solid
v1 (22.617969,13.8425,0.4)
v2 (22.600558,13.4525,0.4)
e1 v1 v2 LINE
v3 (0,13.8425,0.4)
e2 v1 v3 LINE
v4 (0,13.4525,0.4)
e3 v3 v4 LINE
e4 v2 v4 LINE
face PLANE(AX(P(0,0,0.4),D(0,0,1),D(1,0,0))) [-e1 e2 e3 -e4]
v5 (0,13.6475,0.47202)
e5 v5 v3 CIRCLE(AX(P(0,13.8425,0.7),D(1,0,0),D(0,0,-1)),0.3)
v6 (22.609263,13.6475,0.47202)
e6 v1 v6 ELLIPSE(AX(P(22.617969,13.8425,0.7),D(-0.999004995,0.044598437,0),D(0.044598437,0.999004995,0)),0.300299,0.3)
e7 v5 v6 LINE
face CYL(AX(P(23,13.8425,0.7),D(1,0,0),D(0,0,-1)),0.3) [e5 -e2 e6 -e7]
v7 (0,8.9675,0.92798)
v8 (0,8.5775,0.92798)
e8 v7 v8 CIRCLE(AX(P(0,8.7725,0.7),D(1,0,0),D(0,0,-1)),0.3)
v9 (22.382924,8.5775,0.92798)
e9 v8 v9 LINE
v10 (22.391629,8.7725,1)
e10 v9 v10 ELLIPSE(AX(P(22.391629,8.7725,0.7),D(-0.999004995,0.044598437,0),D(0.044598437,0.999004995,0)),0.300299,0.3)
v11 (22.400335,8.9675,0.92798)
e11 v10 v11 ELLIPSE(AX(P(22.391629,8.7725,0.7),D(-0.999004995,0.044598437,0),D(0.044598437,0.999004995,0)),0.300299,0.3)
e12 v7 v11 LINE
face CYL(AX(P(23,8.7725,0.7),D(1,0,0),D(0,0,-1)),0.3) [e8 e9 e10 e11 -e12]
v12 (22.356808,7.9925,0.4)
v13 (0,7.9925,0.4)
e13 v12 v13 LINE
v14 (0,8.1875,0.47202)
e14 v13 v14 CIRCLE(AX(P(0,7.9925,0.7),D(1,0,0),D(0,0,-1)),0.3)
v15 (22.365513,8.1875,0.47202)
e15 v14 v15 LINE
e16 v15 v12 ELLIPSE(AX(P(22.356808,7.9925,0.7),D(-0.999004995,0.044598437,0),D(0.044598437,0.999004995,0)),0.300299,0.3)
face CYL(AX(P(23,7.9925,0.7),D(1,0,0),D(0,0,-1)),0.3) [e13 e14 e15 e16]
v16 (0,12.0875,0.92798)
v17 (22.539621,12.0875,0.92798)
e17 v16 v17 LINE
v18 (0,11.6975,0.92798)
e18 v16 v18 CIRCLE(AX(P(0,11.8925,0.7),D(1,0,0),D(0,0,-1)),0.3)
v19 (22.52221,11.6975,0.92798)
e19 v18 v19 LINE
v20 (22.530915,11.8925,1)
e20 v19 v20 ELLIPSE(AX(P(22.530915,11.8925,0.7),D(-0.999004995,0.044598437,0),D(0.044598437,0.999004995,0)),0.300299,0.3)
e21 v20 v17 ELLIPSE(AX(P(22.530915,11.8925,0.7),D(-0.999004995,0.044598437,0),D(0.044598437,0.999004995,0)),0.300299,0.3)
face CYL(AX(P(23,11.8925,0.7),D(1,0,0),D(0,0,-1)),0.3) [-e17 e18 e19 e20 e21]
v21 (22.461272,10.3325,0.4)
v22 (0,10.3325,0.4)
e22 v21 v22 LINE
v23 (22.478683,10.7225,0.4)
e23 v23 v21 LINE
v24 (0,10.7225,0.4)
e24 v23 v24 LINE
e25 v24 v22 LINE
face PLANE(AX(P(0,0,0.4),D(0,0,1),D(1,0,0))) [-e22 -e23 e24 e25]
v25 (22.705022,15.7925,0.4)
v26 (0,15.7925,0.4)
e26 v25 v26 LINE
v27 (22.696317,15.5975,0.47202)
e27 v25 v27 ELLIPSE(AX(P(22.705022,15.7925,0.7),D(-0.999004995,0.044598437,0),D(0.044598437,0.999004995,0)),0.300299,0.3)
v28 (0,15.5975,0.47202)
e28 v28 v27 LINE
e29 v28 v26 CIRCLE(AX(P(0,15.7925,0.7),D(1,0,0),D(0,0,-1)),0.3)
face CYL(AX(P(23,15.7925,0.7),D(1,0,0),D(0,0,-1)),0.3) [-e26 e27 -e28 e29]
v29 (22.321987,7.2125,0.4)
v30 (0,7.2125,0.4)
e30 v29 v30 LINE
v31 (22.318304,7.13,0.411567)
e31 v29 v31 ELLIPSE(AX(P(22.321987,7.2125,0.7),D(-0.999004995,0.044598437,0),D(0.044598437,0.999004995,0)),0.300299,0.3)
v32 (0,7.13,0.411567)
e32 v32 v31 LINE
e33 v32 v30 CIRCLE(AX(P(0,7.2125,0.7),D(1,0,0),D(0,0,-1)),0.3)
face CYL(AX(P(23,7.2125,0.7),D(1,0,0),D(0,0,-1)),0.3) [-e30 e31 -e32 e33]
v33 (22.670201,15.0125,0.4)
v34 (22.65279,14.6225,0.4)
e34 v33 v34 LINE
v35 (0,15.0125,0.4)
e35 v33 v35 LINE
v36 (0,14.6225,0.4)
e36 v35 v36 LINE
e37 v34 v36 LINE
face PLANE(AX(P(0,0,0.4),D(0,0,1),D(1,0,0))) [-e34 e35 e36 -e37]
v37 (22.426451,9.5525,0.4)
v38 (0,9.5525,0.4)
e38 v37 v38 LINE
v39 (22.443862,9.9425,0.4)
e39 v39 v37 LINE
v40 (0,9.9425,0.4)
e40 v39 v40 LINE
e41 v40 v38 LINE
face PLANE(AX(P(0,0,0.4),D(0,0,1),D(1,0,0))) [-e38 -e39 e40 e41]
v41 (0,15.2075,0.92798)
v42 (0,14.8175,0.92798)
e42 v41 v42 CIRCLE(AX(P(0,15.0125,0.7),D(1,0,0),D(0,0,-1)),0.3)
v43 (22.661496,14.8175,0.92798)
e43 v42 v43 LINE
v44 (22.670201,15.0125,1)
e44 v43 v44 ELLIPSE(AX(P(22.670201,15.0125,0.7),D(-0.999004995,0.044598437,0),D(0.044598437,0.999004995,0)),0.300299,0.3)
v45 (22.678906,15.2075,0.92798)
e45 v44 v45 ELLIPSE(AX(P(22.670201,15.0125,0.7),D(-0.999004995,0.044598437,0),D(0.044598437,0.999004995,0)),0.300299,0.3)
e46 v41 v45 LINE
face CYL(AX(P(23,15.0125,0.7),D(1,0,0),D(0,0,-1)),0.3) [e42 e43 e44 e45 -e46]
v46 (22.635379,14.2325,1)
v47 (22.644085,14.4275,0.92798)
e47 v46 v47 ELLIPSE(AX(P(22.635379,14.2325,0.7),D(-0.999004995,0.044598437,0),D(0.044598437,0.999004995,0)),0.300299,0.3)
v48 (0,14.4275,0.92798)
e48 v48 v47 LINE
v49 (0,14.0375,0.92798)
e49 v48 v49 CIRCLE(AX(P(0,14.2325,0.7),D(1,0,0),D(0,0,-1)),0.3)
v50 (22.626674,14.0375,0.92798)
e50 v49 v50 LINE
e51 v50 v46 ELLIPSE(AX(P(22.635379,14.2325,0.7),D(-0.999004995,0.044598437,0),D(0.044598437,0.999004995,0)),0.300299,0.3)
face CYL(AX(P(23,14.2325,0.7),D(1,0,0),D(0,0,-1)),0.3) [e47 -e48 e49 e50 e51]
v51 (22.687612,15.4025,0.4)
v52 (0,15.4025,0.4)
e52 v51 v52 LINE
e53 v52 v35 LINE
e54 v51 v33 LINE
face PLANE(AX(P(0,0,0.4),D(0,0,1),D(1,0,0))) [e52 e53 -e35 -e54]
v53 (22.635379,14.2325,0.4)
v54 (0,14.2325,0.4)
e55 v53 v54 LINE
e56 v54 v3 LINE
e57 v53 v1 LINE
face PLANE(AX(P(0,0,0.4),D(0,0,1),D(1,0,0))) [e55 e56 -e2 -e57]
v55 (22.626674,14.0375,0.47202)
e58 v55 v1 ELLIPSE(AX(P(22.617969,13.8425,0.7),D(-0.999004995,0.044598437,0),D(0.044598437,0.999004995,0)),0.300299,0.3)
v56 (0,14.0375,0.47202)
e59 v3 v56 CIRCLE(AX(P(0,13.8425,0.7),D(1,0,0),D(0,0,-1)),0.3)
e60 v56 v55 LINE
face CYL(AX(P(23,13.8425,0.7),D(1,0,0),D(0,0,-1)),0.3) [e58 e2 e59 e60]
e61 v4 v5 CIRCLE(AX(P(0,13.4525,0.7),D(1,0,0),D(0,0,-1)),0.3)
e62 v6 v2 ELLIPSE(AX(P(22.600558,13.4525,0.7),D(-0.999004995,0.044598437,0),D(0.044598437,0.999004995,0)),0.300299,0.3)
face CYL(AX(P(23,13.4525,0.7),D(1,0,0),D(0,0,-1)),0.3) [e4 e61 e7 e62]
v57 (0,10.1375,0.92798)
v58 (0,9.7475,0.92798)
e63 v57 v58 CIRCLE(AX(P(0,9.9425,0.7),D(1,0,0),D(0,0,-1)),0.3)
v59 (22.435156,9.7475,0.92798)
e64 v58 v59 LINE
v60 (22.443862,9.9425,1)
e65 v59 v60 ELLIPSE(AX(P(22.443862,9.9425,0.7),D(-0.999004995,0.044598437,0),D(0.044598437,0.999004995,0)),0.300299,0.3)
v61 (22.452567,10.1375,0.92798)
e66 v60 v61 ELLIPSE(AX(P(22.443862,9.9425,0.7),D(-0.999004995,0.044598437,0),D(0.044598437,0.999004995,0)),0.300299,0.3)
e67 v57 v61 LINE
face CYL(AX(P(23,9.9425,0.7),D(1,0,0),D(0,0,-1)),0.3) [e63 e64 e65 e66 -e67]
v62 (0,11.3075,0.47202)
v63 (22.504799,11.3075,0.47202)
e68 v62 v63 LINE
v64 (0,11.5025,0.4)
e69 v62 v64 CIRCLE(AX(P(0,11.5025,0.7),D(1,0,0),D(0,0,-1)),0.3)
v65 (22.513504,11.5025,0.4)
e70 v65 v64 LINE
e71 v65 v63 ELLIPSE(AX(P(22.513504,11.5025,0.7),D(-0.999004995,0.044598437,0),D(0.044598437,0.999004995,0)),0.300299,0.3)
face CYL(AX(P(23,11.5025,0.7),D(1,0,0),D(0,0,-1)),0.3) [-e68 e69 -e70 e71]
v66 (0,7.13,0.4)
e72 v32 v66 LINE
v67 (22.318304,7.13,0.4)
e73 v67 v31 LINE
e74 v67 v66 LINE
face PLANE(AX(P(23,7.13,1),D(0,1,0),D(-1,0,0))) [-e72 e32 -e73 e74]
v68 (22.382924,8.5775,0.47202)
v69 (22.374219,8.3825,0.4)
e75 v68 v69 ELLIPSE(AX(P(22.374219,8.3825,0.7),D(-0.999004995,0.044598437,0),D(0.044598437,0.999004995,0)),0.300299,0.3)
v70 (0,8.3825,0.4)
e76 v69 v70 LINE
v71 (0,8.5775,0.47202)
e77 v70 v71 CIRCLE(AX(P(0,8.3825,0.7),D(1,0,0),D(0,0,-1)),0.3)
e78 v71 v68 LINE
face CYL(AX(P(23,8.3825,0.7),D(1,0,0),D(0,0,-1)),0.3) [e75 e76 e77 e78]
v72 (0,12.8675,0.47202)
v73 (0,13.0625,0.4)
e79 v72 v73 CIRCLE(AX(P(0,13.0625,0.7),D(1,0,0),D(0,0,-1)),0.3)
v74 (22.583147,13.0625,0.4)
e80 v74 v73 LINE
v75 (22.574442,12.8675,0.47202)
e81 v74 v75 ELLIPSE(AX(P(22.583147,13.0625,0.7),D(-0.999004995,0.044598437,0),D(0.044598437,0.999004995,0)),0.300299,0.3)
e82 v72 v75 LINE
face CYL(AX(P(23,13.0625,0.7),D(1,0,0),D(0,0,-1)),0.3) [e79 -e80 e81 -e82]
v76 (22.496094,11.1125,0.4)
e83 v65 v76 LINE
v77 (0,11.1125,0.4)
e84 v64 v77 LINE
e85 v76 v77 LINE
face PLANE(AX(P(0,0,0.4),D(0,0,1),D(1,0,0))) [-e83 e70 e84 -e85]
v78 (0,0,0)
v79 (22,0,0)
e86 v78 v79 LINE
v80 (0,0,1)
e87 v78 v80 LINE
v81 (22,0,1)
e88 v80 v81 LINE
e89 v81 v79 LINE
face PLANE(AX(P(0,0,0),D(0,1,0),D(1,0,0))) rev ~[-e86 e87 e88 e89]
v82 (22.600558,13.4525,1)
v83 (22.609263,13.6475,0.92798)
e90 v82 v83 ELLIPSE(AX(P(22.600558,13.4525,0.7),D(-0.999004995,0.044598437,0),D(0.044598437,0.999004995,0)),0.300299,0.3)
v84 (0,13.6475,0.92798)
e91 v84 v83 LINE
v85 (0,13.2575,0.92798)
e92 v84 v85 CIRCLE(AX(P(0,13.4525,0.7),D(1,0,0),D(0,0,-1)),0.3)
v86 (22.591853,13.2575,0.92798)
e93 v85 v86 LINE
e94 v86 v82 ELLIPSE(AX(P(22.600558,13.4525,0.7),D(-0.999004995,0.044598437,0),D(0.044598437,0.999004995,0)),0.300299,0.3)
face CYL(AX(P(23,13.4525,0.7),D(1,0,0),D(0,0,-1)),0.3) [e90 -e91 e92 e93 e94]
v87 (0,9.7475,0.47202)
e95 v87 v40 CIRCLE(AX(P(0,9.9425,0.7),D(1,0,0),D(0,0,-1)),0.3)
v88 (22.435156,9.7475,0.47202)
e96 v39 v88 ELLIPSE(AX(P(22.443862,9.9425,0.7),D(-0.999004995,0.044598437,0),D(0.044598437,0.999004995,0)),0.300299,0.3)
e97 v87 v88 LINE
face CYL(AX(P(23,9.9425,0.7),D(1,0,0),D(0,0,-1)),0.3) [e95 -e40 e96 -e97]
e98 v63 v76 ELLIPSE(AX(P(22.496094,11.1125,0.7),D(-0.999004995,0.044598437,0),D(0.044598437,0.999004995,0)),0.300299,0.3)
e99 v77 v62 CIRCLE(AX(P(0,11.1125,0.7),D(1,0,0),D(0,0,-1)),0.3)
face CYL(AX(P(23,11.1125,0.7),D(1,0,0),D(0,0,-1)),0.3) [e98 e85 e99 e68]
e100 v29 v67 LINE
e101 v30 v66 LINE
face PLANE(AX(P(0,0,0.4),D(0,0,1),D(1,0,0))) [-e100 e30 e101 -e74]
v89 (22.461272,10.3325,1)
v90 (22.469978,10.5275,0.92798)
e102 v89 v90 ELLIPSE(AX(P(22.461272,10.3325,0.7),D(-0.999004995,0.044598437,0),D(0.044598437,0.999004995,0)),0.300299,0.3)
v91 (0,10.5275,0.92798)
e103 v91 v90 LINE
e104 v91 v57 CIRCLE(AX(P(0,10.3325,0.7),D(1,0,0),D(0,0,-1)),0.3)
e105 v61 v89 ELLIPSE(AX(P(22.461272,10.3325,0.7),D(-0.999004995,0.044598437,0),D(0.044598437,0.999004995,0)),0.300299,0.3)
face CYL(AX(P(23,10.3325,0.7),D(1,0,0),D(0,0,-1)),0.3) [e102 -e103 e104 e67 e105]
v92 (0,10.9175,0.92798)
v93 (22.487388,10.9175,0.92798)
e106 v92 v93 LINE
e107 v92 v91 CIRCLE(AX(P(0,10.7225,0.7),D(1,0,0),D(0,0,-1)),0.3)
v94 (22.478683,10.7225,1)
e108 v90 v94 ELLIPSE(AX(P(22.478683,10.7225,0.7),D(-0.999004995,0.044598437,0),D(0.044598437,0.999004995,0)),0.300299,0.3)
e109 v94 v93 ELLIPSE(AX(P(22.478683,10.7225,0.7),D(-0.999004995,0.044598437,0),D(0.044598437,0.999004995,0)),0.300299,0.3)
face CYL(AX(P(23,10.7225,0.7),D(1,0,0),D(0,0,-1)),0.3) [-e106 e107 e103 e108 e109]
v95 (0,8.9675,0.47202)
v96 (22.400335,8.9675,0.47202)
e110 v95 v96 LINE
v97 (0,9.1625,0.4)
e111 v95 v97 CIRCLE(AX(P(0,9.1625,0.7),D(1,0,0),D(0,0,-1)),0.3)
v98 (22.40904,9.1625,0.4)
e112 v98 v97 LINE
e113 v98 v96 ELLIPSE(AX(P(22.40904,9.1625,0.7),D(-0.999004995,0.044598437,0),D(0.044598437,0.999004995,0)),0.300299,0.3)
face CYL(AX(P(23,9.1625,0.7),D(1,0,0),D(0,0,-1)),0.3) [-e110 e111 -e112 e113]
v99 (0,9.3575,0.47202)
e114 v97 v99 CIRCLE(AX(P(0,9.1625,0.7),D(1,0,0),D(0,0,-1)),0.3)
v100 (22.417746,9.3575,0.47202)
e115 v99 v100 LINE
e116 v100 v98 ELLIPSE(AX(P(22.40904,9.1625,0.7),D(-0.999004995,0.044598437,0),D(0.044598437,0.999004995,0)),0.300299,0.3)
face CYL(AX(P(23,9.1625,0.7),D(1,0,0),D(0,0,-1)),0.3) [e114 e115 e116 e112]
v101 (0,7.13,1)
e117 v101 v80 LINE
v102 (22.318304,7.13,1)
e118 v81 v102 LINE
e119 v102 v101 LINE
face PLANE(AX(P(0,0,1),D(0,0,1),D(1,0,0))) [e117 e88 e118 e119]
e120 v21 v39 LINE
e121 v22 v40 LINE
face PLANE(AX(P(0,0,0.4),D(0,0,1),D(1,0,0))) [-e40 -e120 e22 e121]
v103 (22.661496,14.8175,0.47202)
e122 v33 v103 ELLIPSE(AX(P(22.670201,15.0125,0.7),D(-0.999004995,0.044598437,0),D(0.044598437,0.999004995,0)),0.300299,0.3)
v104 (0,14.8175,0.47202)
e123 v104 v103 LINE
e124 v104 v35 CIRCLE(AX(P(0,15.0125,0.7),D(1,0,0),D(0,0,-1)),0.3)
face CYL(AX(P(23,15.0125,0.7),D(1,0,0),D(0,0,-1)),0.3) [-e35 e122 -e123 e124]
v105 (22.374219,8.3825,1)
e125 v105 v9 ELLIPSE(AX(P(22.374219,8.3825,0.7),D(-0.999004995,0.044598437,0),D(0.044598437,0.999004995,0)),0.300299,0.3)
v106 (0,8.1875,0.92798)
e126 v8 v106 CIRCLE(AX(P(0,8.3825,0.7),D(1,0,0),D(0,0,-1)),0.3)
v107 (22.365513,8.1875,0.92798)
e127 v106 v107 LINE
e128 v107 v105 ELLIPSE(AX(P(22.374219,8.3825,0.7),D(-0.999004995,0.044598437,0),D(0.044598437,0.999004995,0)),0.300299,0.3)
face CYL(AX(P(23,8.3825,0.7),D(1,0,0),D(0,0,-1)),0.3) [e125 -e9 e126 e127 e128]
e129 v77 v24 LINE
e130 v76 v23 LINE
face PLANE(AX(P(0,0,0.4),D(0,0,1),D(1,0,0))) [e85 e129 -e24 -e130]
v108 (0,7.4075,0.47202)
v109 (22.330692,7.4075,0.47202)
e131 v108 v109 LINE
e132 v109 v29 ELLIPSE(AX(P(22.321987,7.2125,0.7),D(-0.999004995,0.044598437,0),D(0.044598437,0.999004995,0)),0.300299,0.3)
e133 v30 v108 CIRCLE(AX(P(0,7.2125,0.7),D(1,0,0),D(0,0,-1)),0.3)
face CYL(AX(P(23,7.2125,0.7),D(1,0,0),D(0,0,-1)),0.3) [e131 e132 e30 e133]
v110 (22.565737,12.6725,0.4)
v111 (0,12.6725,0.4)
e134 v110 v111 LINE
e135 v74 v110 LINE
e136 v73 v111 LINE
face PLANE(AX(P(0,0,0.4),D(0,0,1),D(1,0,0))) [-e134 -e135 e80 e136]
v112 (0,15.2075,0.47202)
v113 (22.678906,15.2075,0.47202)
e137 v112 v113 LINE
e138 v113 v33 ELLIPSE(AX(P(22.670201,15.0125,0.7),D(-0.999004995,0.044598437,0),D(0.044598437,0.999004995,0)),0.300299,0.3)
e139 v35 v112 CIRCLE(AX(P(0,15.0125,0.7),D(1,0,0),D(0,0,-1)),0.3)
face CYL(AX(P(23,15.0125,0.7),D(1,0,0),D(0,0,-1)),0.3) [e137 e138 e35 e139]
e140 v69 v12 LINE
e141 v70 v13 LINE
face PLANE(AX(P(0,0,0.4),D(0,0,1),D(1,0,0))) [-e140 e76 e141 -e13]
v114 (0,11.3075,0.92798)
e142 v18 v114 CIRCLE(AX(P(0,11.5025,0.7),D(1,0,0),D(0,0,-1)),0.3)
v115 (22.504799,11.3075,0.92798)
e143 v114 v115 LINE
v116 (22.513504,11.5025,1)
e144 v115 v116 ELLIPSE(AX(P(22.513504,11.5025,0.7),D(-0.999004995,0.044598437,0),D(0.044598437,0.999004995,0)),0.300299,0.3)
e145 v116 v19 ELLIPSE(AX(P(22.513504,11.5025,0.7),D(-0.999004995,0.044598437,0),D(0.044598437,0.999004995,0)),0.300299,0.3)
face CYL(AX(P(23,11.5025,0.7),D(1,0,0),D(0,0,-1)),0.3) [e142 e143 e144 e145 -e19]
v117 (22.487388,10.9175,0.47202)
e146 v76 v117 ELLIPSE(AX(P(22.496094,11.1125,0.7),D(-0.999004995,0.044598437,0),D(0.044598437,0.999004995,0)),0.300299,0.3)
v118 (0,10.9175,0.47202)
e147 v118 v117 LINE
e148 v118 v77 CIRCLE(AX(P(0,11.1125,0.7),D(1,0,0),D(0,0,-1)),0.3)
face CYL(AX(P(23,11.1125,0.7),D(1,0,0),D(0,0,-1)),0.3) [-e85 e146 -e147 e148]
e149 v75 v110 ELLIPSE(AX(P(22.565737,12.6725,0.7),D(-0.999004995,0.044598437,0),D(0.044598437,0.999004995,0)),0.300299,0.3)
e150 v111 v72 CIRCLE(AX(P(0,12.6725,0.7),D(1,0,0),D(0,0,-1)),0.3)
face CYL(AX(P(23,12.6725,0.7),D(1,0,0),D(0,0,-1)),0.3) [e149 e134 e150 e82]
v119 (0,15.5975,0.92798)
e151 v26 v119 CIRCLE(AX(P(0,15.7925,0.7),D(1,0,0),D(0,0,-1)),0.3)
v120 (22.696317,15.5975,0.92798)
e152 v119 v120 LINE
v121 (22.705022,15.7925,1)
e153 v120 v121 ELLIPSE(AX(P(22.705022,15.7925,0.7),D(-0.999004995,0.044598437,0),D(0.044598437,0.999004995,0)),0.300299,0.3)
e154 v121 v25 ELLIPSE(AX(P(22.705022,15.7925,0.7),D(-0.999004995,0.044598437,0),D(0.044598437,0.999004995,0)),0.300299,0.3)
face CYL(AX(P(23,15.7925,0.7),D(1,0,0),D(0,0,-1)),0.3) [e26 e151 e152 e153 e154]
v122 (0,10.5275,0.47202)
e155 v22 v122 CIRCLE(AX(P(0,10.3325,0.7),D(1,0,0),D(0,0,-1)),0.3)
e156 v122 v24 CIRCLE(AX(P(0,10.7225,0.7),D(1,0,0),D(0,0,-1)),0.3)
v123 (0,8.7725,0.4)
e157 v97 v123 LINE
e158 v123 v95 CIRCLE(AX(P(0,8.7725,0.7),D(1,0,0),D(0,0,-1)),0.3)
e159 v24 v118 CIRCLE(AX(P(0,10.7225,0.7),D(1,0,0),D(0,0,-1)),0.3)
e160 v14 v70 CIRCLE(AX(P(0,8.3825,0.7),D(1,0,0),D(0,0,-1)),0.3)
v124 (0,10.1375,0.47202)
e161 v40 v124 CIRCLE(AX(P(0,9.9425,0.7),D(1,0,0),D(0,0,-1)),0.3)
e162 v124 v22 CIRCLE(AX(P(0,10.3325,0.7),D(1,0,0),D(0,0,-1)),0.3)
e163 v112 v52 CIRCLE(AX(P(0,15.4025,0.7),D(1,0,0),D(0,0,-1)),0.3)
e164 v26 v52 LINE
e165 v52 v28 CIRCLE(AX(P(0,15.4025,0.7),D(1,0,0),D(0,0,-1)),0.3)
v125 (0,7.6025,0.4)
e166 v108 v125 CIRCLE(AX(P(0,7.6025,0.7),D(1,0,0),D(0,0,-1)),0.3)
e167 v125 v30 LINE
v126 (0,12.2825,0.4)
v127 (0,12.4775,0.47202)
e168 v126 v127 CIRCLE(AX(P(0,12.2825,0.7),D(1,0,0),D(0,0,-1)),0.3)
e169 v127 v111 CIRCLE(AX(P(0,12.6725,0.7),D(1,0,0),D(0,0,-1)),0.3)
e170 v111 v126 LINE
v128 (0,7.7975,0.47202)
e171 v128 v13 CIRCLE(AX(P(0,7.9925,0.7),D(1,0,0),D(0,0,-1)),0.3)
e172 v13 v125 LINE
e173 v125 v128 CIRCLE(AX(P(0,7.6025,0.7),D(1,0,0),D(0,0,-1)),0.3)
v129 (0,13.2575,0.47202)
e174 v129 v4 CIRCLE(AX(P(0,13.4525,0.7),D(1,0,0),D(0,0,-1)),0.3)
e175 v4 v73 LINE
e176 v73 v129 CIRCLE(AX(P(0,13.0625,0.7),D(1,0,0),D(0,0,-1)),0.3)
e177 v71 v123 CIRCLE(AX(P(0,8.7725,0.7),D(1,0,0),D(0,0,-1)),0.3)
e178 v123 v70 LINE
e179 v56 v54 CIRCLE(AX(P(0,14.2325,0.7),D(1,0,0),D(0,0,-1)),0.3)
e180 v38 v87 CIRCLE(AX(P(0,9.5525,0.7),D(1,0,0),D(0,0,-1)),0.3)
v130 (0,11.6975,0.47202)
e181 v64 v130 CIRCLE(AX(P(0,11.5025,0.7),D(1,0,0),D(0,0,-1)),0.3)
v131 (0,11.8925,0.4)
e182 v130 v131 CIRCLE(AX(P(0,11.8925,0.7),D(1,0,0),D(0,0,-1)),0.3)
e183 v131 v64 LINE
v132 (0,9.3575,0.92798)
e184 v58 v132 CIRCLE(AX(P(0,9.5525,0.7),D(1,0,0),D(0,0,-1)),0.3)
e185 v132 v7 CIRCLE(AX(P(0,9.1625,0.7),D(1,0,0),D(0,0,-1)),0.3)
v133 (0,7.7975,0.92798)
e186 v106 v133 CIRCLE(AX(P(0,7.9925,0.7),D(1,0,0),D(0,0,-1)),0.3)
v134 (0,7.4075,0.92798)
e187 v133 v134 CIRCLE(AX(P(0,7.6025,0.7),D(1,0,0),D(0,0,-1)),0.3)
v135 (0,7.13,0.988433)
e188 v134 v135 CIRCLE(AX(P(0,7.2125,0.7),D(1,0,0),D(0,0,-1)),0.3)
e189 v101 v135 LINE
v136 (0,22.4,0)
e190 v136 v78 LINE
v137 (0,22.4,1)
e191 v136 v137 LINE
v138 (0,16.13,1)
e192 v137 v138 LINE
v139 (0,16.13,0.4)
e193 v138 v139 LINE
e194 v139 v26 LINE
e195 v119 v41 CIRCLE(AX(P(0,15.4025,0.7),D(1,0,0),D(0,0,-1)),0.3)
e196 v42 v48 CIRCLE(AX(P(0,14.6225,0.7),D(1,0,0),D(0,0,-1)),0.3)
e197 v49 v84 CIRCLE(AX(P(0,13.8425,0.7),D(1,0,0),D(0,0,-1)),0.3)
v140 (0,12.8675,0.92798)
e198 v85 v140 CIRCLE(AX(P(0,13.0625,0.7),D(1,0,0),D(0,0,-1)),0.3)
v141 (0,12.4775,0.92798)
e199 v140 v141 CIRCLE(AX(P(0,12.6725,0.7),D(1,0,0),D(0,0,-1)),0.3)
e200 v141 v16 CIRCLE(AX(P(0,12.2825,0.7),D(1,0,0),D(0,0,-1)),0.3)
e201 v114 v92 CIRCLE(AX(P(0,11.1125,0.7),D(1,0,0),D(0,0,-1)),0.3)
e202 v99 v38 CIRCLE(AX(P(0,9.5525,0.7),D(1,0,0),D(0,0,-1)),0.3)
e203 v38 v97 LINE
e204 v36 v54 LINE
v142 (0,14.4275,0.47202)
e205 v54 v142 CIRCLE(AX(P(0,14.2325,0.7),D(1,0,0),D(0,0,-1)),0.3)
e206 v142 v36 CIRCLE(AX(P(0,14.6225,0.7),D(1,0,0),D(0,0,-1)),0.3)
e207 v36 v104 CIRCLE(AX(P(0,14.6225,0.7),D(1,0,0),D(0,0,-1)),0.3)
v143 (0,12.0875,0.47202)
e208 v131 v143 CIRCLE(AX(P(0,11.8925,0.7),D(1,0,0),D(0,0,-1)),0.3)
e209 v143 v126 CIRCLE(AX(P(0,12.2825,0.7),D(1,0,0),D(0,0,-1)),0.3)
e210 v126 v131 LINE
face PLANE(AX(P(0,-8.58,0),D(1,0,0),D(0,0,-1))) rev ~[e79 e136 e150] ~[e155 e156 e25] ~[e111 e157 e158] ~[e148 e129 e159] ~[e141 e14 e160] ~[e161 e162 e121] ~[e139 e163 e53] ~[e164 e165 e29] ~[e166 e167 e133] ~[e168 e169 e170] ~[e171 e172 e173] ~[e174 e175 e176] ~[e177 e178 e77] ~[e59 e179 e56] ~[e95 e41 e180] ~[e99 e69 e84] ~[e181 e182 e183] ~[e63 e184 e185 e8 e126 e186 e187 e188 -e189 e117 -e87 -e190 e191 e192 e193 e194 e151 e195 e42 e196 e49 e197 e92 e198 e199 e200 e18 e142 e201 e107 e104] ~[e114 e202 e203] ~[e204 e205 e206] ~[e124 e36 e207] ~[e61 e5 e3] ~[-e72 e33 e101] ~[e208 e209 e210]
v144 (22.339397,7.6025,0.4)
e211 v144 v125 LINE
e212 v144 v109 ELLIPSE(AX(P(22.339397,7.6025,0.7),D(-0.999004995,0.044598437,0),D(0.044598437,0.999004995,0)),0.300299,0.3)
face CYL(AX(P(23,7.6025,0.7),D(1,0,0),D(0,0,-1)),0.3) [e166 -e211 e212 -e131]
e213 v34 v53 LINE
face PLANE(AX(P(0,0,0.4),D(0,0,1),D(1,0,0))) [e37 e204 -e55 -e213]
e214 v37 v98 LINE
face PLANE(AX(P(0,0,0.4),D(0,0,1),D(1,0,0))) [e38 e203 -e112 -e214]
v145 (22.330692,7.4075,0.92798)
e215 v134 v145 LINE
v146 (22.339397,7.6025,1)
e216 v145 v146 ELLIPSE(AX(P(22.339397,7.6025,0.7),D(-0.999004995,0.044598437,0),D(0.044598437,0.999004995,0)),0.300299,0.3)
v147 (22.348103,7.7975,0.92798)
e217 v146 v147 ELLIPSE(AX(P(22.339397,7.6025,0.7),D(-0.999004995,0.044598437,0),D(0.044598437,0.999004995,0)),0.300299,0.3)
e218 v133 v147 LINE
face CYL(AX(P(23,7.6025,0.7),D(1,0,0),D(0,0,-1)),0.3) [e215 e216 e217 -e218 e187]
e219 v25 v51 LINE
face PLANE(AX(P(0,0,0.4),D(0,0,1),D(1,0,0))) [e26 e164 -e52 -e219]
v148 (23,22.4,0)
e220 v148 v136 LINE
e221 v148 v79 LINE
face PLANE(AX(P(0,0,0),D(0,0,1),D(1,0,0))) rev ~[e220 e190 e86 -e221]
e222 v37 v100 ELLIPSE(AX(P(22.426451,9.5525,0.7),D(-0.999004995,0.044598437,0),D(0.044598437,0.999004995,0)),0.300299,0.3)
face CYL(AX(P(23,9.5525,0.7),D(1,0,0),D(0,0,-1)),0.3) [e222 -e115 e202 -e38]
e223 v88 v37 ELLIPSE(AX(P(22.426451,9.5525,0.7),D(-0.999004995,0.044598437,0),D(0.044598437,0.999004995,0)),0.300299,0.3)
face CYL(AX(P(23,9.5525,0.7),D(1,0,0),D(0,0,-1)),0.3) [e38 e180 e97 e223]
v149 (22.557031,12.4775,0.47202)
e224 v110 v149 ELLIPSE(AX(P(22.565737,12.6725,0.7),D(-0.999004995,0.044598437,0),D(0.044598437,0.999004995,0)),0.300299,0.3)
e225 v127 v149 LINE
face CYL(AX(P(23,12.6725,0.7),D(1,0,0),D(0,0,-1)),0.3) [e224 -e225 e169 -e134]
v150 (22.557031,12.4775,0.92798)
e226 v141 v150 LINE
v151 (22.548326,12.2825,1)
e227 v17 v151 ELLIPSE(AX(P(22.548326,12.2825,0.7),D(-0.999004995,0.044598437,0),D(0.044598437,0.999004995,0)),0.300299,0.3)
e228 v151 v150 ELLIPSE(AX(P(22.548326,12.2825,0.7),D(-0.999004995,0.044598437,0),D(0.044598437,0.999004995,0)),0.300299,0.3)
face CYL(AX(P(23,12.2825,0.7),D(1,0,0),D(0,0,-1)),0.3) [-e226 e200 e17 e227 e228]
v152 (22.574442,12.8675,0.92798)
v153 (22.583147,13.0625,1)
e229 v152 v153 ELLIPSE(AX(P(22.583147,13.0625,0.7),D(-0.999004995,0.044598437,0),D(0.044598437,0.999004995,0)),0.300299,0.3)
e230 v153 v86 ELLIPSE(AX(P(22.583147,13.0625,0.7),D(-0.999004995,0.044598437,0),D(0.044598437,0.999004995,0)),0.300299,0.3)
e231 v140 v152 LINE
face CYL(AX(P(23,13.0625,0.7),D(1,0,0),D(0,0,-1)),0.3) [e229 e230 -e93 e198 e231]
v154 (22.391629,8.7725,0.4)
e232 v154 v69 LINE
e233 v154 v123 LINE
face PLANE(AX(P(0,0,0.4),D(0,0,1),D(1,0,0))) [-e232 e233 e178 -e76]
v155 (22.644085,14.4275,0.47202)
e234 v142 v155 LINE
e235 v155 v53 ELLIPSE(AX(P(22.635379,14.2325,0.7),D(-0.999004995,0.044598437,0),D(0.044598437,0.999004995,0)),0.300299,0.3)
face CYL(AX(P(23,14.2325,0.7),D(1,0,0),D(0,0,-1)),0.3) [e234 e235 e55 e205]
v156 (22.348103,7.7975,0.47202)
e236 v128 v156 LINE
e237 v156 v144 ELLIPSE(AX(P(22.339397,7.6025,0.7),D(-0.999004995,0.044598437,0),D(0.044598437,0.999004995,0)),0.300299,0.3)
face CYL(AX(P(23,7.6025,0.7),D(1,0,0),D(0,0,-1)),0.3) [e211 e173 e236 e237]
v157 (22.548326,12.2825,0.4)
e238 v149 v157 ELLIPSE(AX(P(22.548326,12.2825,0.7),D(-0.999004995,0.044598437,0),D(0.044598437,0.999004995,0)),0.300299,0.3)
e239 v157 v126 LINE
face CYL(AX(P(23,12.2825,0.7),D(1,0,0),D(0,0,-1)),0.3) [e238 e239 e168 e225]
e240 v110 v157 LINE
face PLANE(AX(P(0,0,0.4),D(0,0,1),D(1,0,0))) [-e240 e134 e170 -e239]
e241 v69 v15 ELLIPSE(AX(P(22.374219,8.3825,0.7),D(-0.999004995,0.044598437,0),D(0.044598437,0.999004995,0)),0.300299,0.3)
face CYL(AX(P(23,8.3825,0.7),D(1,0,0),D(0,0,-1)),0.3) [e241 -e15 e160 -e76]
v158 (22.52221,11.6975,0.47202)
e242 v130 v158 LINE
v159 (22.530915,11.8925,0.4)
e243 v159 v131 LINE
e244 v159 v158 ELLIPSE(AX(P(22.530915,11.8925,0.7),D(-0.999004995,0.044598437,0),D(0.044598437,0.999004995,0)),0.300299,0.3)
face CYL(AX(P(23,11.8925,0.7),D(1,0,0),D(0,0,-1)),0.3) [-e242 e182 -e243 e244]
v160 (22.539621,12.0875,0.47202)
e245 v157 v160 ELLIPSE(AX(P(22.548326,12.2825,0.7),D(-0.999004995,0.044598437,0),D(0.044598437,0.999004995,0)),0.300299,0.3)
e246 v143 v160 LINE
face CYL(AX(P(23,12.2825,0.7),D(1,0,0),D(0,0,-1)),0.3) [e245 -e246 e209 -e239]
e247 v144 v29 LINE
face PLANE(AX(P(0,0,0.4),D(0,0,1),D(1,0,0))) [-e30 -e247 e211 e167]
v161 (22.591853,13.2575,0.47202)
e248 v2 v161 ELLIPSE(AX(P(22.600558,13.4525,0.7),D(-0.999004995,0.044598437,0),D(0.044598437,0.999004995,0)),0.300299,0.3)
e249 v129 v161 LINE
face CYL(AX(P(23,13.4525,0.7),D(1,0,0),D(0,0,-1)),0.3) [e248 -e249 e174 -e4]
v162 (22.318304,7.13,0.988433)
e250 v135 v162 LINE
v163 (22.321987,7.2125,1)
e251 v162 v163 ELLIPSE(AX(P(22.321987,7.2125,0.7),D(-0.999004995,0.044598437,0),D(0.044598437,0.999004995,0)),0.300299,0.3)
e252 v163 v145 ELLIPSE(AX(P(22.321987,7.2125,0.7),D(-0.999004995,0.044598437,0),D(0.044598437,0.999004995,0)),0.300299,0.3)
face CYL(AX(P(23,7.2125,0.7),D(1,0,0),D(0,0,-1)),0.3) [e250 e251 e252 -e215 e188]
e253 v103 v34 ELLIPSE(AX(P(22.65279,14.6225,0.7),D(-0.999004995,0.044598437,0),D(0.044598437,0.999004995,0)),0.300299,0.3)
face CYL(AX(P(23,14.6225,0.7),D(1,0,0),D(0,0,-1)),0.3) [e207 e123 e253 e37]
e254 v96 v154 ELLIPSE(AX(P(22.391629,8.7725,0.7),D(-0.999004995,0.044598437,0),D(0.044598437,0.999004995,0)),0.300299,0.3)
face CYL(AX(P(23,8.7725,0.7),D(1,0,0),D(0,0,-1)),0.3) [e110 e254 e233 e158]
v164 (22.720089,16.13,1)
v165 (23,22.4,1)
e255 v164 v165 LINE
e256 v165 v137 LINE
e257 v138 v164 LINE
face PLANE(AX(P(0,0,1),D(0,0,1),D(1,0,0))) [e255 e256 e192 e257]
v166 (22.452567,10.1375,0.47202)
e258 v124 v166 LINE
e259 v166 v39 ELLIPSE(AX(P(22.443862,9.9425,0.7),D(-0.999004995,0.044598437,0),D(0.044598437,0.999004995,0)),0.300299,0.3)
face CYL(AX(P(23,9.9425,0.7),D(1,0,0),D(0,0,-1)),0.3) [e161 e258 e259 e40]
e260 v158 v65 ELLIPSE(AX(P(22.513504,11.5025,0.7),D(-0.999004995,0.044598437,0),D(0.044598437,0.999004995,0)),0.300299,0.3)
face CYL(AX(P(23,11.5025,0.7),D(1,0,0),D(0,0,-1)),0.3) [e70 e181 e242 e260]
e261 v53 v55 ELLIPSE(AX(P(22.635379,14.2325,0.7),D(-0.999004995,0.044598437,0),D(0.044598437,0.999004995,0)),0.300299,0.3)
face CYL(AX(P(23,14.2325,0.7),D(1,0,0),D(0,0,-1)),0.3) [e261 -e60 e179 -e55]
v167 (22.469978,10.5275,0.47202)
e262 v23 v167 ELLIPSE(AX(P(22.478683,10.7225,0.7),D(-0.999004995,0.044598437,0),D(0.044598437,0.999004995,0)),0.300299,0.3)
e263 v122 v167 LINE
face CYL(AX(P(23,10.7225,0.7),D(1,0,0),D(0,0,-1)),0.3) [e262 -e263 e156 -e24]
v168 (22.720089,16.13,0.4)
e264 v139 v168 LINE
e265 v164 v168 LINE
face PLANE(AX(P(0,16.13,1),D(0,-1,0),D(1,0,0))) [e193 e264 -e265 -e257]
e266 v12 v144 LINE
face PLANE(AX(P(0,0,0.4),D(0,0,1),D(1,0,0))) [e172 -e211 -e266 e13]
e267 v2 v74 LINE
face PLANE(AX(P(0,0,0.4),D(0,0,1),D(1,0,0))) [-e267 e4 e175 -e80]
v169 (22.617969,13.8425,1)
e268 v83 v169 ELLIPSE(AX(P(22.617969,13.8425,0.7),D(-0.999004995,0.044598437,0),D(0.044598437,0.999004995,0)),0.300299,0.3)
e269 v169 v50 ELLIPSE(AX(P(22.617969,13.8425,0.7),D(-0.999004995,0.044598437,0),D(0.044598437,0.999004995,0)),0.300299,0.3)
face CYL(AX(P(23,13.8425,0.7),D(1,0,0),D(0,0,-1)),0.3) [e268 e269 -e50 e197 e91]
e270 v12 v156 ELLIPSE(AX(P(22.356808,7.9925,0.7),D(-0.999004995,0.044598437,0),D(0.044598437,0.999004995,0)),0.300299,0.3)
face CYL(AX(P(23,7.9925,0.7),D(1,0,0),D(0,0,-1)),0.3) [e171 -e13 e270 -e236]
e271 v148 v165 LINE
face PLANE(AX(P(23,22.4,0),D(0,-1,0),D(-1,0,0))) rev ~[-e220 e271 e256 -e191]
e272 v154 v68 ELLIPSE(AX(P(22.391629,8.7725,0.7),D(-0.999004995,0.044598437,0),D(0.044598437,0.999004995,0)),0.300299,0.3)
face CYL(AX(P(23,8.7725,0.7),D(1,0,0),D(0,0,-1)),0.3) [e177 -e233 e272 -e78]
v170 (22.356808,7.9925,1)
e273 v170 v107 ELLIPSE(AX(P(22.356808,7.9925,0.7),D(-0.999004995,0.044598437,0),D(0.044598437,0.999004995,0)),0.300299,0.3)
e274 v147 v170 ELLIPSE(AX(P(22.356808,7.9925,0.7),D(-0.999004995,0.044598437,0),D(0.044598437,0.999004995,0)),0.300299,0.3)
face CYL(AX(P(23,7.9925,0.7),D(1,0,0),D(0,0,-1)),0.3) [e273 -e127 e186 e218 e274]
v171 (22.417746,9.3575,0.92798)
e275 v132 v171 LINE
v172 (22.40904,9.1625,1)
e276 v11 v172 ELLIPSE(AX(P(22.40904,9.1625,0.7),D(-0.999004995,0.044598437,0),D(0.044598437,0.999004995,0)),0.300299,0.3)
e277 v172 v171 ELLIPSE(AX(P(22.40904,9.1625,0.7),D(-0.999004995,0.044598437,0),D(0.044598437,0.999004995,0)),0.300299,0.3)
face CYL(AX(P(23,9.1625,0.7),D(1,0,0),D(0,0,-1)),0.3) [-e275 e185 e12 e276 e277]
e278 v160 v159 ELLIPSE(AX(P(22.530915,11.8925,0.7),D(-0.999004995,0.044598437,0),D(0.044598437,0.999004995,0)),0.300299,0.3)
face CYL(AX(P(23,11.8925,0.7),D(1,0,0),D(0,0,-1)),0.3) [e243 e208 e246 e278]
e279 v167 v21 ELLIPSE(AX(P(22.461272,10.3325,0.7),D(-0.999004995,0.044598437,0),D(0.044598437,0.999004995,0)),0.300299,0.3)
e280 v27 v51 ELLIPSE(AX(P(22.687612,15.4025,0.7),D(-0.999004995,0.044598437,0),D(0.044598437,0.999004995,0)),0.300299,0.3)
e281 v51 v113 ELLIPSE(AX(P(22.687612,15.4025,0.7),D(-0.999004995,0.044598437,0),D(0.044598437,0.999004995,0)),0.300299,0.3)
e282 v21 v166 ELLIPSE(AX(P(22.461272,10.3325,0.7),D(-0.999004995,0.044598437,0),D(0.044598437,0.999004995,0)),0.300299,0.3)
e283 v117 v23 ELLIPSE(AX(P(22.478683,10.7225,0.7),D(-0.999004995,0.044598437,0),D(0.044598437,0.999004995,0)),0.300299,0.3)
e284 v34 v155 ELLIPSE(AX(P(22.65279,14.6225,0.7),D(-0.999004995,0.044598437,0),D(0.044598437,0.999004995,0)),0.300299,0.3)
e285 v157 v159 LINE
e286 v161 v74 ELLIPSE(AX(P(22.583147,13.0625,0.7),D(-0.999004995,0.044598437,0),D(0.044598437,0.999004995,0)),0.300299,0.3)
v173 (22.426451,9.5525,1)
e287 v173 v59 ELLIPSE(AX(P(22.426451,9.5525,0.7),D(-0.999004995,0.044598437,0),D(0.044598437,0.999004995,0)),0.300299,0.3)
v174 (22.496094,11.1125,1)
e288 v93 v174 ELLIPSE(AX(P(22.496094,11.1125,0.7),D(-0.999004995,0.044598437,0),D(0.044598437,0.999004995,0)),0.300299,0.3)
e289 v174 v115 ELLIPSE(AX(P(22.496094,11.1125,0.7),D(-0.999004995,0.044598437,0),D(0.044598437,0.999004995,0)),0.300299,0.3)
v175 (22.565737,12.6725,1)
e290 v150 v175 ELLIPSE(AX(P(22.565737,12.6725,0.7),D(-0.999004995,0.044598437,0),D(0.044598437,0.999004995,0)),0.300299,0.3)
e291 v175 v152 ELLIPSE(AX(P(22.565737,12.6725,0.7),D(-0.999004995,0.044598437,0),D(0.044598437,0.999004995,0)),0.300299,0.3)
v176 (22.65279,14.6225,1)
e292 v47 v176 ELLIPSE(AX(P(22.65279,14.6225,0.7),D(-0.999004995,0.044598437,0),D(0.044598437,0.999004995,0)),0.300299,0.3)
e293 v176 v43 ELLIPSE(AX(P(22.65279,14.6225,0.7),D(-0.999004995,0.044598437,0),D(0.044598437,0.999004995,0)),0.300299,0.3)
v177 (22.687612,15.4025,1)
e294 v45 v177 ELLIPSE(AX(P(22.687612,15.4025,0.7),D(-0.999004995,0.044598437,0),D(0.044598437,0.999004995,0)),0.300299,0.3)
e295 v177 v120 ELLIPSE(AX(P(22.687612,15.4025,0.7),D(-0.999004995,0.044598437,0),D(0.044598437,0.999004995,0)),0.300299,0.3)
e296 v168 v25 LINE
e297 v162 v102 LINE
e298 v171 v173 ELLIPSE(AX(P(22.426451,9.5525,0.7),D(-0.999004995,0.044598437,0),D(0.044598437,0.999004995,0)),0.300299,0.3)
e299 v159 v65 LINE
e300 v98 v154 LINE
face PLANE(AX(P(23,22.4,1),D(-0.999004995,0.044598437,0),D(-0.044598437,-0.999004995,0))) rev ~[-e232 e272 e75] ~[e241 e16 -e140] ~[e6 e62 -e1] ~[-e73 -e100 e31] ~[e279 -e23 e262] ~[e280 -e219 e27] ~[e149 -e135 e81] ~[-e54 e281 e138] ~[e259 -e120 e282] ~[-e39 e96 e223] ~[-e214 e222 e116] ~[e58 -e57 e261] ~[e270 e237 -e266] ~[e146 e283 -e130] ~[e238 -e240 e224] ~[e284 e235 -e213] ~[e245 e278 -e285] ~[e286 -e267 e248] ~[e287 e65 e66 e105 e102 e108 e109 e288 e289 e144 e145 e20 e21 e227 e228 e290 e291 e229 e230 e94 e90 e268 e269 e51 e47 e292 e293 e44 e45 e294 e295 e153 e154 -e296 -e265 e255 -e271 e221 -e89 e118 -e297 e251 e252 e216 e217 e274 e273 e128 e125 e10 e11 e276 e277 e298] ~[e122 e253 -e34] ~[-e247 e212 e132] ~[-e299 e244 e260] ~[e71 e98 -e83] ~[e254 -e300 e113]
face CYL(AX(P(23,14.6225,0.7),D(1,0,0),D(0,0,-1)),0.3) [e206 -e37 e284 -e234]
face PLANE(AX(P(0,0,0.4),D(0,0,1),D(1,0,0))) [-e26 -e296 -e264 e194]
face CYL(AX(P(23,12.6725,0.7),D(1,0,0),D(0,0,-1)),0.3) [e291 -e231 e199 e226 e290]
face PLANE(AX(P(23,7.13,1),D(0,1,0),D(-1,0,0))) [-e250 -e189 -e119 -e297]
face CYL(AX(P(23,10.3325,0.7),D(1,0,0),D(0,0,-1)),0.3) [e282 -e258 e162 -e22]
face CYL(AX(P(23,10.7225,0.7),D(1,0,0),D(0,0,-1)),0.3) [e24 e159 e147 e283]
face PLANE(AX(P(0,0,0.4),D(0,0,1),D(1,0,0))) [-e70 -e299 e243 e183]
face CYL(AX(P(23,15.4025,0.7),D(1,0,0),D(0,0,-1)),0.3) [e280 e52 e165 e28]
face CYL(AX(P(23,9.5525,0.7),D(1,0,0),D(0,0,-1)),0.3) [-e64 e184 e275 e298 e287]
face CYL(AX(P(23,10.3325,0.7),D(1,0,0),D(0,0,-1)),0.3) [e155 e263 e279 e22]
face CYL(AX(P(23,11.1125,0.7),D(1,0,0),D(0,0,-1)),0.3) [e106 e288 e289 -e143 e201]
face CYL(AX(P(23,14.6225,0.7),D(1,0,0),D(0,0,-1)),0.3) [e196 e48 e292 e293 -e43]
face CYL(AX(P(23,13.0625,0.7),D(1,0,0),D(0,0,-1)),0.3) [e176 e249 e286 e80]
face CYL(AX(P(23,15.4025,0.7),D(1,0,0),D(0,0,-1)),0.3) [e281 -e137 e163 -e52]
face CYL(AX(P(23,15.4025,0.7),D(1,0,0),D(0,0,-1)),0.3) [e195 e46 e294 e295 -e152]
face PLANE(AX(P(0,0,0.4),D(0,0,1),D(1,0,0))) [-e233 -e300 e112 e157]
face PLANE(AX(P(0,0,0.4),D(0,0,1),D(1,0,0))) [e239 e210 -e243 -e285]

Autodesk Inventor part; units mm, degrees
ref_plane "YZ Plane" through (0, 0, 0) normal (1, 0, 0) x (0, 1, 0)
ref_plane "XZ Plane" through (0, 0, 0) normal (0, 1, 0) x (-1, 0, 0)
ref_plane "XY Plane" through (0, 0, 0) normal (0, 0, 1) x (1, 0, 0)
sketch "Sketch1" plane through (0, 0, 0) normal (0, 0, 1) x (1, 0, 0)
  line L0 (0, 0) -> (23, 0)
  line L1 (23, 0) -> (23, 22.4)
  line L2 (23, 22.4) -> (0, 22.4)
  line L3 (0, 22.4) -> (0, 0)
  dimension "d0" = 23
  dimension "d1" = 22.4
extrude "Extrusion1" add sketch "Sketch1" along normal blind 1
sketch "Sketch2" plane through (0, 0, 1) normal (0, 0, 1) x (1, 0, 0)
  line L0 (0, 0) -> (23, 0) projected
  line L1 (23, 0) -> (23, 22.4) projected
  line L2 (23, 22.4) -> (0, 22.4) projected
  line L3 (0, 22.4) -> (0, 0) projected
  line L4 (23, 0) -> (23, 22.4) projected
  line L5 (0, 16.13) -> (23, 16.13)
  line L6 (23, 16.13) -> (23, 7.13)
  line L7 (23, 7.13) -> (0, 7.13)
  line L8 (0, 7.13) -> (0, 16.13)
  dimension "d4" = 9
  dimension "d5" = 6.27
extrude "Extrusion2" cut sketch "Sketch2" against normal blind 0.6 contours L3 L5 L1 L7
sketch "Sketch3" plane through (23, 0, 0) normal (1, 0, 0) x (0, 0, -1)
  line L0 (-1, 0) -> (-1, 7.13) projected
  line L1 (0, 0) -> (-1, 0) projected
  line L2 (0, 0) -> (0, 22.4) projected
  line L3 (0, 22.4) -> (-1, 22.4) projected
  circle A0 centre (-0.7, 15.7925) radius 0.3
  line L4 (-0.4, 16.13) -> (-0.4, 7.13) projected
  line L5 (-0.4, 7.13) -> (-1, 7.13) projected
  line L6 (-1, 16.13) -> (-1, 22.4) projected
  line L7 (-1, 16.13) -> (-0.4, 16.13) projected
  line L8 (-0.4, 16.13) -> (-0.4, 7.13) projected
extrude "Extrusion3" add sketch "Sketch3" against normal up to surface (23 mm away) contours A0
pattern_linear "Rectangular Pattern1" count 24 spacing 0.39 along (0, -1, 0) of "Extrusion3"
sketch "Sketch4" plane through (0, 0, 1) normal (0, 0, 1) x (1, 0, 0)
  line L0 (0, 7.13) -> (0, 0) projected
  line L1 (0, 0) -> (23, 0) projected
  line L2 (23, 0) -> (23, 7.13) projected
  line L3 (23, 7.13) -> (0, 7.13) projected
  line L4 (23, 22.4) -> (22, 0)
  line L5 (0, 0) -> (23, 0) projected
  line L6 (22, 0) -> (23, 0)
  line L7 (23, 16.13) -> (23, 22.4) projected
  line L8 (23, 0) -> (23, 22.4)
  dimension "d16" = 1
extrude "Extrusion4" cut sketch "Sketch4" along normal through all both and the other way through all contours L4 L7 L8 L3 | L3 L2 L1 L4
properties part number "00_chip_01_old"
